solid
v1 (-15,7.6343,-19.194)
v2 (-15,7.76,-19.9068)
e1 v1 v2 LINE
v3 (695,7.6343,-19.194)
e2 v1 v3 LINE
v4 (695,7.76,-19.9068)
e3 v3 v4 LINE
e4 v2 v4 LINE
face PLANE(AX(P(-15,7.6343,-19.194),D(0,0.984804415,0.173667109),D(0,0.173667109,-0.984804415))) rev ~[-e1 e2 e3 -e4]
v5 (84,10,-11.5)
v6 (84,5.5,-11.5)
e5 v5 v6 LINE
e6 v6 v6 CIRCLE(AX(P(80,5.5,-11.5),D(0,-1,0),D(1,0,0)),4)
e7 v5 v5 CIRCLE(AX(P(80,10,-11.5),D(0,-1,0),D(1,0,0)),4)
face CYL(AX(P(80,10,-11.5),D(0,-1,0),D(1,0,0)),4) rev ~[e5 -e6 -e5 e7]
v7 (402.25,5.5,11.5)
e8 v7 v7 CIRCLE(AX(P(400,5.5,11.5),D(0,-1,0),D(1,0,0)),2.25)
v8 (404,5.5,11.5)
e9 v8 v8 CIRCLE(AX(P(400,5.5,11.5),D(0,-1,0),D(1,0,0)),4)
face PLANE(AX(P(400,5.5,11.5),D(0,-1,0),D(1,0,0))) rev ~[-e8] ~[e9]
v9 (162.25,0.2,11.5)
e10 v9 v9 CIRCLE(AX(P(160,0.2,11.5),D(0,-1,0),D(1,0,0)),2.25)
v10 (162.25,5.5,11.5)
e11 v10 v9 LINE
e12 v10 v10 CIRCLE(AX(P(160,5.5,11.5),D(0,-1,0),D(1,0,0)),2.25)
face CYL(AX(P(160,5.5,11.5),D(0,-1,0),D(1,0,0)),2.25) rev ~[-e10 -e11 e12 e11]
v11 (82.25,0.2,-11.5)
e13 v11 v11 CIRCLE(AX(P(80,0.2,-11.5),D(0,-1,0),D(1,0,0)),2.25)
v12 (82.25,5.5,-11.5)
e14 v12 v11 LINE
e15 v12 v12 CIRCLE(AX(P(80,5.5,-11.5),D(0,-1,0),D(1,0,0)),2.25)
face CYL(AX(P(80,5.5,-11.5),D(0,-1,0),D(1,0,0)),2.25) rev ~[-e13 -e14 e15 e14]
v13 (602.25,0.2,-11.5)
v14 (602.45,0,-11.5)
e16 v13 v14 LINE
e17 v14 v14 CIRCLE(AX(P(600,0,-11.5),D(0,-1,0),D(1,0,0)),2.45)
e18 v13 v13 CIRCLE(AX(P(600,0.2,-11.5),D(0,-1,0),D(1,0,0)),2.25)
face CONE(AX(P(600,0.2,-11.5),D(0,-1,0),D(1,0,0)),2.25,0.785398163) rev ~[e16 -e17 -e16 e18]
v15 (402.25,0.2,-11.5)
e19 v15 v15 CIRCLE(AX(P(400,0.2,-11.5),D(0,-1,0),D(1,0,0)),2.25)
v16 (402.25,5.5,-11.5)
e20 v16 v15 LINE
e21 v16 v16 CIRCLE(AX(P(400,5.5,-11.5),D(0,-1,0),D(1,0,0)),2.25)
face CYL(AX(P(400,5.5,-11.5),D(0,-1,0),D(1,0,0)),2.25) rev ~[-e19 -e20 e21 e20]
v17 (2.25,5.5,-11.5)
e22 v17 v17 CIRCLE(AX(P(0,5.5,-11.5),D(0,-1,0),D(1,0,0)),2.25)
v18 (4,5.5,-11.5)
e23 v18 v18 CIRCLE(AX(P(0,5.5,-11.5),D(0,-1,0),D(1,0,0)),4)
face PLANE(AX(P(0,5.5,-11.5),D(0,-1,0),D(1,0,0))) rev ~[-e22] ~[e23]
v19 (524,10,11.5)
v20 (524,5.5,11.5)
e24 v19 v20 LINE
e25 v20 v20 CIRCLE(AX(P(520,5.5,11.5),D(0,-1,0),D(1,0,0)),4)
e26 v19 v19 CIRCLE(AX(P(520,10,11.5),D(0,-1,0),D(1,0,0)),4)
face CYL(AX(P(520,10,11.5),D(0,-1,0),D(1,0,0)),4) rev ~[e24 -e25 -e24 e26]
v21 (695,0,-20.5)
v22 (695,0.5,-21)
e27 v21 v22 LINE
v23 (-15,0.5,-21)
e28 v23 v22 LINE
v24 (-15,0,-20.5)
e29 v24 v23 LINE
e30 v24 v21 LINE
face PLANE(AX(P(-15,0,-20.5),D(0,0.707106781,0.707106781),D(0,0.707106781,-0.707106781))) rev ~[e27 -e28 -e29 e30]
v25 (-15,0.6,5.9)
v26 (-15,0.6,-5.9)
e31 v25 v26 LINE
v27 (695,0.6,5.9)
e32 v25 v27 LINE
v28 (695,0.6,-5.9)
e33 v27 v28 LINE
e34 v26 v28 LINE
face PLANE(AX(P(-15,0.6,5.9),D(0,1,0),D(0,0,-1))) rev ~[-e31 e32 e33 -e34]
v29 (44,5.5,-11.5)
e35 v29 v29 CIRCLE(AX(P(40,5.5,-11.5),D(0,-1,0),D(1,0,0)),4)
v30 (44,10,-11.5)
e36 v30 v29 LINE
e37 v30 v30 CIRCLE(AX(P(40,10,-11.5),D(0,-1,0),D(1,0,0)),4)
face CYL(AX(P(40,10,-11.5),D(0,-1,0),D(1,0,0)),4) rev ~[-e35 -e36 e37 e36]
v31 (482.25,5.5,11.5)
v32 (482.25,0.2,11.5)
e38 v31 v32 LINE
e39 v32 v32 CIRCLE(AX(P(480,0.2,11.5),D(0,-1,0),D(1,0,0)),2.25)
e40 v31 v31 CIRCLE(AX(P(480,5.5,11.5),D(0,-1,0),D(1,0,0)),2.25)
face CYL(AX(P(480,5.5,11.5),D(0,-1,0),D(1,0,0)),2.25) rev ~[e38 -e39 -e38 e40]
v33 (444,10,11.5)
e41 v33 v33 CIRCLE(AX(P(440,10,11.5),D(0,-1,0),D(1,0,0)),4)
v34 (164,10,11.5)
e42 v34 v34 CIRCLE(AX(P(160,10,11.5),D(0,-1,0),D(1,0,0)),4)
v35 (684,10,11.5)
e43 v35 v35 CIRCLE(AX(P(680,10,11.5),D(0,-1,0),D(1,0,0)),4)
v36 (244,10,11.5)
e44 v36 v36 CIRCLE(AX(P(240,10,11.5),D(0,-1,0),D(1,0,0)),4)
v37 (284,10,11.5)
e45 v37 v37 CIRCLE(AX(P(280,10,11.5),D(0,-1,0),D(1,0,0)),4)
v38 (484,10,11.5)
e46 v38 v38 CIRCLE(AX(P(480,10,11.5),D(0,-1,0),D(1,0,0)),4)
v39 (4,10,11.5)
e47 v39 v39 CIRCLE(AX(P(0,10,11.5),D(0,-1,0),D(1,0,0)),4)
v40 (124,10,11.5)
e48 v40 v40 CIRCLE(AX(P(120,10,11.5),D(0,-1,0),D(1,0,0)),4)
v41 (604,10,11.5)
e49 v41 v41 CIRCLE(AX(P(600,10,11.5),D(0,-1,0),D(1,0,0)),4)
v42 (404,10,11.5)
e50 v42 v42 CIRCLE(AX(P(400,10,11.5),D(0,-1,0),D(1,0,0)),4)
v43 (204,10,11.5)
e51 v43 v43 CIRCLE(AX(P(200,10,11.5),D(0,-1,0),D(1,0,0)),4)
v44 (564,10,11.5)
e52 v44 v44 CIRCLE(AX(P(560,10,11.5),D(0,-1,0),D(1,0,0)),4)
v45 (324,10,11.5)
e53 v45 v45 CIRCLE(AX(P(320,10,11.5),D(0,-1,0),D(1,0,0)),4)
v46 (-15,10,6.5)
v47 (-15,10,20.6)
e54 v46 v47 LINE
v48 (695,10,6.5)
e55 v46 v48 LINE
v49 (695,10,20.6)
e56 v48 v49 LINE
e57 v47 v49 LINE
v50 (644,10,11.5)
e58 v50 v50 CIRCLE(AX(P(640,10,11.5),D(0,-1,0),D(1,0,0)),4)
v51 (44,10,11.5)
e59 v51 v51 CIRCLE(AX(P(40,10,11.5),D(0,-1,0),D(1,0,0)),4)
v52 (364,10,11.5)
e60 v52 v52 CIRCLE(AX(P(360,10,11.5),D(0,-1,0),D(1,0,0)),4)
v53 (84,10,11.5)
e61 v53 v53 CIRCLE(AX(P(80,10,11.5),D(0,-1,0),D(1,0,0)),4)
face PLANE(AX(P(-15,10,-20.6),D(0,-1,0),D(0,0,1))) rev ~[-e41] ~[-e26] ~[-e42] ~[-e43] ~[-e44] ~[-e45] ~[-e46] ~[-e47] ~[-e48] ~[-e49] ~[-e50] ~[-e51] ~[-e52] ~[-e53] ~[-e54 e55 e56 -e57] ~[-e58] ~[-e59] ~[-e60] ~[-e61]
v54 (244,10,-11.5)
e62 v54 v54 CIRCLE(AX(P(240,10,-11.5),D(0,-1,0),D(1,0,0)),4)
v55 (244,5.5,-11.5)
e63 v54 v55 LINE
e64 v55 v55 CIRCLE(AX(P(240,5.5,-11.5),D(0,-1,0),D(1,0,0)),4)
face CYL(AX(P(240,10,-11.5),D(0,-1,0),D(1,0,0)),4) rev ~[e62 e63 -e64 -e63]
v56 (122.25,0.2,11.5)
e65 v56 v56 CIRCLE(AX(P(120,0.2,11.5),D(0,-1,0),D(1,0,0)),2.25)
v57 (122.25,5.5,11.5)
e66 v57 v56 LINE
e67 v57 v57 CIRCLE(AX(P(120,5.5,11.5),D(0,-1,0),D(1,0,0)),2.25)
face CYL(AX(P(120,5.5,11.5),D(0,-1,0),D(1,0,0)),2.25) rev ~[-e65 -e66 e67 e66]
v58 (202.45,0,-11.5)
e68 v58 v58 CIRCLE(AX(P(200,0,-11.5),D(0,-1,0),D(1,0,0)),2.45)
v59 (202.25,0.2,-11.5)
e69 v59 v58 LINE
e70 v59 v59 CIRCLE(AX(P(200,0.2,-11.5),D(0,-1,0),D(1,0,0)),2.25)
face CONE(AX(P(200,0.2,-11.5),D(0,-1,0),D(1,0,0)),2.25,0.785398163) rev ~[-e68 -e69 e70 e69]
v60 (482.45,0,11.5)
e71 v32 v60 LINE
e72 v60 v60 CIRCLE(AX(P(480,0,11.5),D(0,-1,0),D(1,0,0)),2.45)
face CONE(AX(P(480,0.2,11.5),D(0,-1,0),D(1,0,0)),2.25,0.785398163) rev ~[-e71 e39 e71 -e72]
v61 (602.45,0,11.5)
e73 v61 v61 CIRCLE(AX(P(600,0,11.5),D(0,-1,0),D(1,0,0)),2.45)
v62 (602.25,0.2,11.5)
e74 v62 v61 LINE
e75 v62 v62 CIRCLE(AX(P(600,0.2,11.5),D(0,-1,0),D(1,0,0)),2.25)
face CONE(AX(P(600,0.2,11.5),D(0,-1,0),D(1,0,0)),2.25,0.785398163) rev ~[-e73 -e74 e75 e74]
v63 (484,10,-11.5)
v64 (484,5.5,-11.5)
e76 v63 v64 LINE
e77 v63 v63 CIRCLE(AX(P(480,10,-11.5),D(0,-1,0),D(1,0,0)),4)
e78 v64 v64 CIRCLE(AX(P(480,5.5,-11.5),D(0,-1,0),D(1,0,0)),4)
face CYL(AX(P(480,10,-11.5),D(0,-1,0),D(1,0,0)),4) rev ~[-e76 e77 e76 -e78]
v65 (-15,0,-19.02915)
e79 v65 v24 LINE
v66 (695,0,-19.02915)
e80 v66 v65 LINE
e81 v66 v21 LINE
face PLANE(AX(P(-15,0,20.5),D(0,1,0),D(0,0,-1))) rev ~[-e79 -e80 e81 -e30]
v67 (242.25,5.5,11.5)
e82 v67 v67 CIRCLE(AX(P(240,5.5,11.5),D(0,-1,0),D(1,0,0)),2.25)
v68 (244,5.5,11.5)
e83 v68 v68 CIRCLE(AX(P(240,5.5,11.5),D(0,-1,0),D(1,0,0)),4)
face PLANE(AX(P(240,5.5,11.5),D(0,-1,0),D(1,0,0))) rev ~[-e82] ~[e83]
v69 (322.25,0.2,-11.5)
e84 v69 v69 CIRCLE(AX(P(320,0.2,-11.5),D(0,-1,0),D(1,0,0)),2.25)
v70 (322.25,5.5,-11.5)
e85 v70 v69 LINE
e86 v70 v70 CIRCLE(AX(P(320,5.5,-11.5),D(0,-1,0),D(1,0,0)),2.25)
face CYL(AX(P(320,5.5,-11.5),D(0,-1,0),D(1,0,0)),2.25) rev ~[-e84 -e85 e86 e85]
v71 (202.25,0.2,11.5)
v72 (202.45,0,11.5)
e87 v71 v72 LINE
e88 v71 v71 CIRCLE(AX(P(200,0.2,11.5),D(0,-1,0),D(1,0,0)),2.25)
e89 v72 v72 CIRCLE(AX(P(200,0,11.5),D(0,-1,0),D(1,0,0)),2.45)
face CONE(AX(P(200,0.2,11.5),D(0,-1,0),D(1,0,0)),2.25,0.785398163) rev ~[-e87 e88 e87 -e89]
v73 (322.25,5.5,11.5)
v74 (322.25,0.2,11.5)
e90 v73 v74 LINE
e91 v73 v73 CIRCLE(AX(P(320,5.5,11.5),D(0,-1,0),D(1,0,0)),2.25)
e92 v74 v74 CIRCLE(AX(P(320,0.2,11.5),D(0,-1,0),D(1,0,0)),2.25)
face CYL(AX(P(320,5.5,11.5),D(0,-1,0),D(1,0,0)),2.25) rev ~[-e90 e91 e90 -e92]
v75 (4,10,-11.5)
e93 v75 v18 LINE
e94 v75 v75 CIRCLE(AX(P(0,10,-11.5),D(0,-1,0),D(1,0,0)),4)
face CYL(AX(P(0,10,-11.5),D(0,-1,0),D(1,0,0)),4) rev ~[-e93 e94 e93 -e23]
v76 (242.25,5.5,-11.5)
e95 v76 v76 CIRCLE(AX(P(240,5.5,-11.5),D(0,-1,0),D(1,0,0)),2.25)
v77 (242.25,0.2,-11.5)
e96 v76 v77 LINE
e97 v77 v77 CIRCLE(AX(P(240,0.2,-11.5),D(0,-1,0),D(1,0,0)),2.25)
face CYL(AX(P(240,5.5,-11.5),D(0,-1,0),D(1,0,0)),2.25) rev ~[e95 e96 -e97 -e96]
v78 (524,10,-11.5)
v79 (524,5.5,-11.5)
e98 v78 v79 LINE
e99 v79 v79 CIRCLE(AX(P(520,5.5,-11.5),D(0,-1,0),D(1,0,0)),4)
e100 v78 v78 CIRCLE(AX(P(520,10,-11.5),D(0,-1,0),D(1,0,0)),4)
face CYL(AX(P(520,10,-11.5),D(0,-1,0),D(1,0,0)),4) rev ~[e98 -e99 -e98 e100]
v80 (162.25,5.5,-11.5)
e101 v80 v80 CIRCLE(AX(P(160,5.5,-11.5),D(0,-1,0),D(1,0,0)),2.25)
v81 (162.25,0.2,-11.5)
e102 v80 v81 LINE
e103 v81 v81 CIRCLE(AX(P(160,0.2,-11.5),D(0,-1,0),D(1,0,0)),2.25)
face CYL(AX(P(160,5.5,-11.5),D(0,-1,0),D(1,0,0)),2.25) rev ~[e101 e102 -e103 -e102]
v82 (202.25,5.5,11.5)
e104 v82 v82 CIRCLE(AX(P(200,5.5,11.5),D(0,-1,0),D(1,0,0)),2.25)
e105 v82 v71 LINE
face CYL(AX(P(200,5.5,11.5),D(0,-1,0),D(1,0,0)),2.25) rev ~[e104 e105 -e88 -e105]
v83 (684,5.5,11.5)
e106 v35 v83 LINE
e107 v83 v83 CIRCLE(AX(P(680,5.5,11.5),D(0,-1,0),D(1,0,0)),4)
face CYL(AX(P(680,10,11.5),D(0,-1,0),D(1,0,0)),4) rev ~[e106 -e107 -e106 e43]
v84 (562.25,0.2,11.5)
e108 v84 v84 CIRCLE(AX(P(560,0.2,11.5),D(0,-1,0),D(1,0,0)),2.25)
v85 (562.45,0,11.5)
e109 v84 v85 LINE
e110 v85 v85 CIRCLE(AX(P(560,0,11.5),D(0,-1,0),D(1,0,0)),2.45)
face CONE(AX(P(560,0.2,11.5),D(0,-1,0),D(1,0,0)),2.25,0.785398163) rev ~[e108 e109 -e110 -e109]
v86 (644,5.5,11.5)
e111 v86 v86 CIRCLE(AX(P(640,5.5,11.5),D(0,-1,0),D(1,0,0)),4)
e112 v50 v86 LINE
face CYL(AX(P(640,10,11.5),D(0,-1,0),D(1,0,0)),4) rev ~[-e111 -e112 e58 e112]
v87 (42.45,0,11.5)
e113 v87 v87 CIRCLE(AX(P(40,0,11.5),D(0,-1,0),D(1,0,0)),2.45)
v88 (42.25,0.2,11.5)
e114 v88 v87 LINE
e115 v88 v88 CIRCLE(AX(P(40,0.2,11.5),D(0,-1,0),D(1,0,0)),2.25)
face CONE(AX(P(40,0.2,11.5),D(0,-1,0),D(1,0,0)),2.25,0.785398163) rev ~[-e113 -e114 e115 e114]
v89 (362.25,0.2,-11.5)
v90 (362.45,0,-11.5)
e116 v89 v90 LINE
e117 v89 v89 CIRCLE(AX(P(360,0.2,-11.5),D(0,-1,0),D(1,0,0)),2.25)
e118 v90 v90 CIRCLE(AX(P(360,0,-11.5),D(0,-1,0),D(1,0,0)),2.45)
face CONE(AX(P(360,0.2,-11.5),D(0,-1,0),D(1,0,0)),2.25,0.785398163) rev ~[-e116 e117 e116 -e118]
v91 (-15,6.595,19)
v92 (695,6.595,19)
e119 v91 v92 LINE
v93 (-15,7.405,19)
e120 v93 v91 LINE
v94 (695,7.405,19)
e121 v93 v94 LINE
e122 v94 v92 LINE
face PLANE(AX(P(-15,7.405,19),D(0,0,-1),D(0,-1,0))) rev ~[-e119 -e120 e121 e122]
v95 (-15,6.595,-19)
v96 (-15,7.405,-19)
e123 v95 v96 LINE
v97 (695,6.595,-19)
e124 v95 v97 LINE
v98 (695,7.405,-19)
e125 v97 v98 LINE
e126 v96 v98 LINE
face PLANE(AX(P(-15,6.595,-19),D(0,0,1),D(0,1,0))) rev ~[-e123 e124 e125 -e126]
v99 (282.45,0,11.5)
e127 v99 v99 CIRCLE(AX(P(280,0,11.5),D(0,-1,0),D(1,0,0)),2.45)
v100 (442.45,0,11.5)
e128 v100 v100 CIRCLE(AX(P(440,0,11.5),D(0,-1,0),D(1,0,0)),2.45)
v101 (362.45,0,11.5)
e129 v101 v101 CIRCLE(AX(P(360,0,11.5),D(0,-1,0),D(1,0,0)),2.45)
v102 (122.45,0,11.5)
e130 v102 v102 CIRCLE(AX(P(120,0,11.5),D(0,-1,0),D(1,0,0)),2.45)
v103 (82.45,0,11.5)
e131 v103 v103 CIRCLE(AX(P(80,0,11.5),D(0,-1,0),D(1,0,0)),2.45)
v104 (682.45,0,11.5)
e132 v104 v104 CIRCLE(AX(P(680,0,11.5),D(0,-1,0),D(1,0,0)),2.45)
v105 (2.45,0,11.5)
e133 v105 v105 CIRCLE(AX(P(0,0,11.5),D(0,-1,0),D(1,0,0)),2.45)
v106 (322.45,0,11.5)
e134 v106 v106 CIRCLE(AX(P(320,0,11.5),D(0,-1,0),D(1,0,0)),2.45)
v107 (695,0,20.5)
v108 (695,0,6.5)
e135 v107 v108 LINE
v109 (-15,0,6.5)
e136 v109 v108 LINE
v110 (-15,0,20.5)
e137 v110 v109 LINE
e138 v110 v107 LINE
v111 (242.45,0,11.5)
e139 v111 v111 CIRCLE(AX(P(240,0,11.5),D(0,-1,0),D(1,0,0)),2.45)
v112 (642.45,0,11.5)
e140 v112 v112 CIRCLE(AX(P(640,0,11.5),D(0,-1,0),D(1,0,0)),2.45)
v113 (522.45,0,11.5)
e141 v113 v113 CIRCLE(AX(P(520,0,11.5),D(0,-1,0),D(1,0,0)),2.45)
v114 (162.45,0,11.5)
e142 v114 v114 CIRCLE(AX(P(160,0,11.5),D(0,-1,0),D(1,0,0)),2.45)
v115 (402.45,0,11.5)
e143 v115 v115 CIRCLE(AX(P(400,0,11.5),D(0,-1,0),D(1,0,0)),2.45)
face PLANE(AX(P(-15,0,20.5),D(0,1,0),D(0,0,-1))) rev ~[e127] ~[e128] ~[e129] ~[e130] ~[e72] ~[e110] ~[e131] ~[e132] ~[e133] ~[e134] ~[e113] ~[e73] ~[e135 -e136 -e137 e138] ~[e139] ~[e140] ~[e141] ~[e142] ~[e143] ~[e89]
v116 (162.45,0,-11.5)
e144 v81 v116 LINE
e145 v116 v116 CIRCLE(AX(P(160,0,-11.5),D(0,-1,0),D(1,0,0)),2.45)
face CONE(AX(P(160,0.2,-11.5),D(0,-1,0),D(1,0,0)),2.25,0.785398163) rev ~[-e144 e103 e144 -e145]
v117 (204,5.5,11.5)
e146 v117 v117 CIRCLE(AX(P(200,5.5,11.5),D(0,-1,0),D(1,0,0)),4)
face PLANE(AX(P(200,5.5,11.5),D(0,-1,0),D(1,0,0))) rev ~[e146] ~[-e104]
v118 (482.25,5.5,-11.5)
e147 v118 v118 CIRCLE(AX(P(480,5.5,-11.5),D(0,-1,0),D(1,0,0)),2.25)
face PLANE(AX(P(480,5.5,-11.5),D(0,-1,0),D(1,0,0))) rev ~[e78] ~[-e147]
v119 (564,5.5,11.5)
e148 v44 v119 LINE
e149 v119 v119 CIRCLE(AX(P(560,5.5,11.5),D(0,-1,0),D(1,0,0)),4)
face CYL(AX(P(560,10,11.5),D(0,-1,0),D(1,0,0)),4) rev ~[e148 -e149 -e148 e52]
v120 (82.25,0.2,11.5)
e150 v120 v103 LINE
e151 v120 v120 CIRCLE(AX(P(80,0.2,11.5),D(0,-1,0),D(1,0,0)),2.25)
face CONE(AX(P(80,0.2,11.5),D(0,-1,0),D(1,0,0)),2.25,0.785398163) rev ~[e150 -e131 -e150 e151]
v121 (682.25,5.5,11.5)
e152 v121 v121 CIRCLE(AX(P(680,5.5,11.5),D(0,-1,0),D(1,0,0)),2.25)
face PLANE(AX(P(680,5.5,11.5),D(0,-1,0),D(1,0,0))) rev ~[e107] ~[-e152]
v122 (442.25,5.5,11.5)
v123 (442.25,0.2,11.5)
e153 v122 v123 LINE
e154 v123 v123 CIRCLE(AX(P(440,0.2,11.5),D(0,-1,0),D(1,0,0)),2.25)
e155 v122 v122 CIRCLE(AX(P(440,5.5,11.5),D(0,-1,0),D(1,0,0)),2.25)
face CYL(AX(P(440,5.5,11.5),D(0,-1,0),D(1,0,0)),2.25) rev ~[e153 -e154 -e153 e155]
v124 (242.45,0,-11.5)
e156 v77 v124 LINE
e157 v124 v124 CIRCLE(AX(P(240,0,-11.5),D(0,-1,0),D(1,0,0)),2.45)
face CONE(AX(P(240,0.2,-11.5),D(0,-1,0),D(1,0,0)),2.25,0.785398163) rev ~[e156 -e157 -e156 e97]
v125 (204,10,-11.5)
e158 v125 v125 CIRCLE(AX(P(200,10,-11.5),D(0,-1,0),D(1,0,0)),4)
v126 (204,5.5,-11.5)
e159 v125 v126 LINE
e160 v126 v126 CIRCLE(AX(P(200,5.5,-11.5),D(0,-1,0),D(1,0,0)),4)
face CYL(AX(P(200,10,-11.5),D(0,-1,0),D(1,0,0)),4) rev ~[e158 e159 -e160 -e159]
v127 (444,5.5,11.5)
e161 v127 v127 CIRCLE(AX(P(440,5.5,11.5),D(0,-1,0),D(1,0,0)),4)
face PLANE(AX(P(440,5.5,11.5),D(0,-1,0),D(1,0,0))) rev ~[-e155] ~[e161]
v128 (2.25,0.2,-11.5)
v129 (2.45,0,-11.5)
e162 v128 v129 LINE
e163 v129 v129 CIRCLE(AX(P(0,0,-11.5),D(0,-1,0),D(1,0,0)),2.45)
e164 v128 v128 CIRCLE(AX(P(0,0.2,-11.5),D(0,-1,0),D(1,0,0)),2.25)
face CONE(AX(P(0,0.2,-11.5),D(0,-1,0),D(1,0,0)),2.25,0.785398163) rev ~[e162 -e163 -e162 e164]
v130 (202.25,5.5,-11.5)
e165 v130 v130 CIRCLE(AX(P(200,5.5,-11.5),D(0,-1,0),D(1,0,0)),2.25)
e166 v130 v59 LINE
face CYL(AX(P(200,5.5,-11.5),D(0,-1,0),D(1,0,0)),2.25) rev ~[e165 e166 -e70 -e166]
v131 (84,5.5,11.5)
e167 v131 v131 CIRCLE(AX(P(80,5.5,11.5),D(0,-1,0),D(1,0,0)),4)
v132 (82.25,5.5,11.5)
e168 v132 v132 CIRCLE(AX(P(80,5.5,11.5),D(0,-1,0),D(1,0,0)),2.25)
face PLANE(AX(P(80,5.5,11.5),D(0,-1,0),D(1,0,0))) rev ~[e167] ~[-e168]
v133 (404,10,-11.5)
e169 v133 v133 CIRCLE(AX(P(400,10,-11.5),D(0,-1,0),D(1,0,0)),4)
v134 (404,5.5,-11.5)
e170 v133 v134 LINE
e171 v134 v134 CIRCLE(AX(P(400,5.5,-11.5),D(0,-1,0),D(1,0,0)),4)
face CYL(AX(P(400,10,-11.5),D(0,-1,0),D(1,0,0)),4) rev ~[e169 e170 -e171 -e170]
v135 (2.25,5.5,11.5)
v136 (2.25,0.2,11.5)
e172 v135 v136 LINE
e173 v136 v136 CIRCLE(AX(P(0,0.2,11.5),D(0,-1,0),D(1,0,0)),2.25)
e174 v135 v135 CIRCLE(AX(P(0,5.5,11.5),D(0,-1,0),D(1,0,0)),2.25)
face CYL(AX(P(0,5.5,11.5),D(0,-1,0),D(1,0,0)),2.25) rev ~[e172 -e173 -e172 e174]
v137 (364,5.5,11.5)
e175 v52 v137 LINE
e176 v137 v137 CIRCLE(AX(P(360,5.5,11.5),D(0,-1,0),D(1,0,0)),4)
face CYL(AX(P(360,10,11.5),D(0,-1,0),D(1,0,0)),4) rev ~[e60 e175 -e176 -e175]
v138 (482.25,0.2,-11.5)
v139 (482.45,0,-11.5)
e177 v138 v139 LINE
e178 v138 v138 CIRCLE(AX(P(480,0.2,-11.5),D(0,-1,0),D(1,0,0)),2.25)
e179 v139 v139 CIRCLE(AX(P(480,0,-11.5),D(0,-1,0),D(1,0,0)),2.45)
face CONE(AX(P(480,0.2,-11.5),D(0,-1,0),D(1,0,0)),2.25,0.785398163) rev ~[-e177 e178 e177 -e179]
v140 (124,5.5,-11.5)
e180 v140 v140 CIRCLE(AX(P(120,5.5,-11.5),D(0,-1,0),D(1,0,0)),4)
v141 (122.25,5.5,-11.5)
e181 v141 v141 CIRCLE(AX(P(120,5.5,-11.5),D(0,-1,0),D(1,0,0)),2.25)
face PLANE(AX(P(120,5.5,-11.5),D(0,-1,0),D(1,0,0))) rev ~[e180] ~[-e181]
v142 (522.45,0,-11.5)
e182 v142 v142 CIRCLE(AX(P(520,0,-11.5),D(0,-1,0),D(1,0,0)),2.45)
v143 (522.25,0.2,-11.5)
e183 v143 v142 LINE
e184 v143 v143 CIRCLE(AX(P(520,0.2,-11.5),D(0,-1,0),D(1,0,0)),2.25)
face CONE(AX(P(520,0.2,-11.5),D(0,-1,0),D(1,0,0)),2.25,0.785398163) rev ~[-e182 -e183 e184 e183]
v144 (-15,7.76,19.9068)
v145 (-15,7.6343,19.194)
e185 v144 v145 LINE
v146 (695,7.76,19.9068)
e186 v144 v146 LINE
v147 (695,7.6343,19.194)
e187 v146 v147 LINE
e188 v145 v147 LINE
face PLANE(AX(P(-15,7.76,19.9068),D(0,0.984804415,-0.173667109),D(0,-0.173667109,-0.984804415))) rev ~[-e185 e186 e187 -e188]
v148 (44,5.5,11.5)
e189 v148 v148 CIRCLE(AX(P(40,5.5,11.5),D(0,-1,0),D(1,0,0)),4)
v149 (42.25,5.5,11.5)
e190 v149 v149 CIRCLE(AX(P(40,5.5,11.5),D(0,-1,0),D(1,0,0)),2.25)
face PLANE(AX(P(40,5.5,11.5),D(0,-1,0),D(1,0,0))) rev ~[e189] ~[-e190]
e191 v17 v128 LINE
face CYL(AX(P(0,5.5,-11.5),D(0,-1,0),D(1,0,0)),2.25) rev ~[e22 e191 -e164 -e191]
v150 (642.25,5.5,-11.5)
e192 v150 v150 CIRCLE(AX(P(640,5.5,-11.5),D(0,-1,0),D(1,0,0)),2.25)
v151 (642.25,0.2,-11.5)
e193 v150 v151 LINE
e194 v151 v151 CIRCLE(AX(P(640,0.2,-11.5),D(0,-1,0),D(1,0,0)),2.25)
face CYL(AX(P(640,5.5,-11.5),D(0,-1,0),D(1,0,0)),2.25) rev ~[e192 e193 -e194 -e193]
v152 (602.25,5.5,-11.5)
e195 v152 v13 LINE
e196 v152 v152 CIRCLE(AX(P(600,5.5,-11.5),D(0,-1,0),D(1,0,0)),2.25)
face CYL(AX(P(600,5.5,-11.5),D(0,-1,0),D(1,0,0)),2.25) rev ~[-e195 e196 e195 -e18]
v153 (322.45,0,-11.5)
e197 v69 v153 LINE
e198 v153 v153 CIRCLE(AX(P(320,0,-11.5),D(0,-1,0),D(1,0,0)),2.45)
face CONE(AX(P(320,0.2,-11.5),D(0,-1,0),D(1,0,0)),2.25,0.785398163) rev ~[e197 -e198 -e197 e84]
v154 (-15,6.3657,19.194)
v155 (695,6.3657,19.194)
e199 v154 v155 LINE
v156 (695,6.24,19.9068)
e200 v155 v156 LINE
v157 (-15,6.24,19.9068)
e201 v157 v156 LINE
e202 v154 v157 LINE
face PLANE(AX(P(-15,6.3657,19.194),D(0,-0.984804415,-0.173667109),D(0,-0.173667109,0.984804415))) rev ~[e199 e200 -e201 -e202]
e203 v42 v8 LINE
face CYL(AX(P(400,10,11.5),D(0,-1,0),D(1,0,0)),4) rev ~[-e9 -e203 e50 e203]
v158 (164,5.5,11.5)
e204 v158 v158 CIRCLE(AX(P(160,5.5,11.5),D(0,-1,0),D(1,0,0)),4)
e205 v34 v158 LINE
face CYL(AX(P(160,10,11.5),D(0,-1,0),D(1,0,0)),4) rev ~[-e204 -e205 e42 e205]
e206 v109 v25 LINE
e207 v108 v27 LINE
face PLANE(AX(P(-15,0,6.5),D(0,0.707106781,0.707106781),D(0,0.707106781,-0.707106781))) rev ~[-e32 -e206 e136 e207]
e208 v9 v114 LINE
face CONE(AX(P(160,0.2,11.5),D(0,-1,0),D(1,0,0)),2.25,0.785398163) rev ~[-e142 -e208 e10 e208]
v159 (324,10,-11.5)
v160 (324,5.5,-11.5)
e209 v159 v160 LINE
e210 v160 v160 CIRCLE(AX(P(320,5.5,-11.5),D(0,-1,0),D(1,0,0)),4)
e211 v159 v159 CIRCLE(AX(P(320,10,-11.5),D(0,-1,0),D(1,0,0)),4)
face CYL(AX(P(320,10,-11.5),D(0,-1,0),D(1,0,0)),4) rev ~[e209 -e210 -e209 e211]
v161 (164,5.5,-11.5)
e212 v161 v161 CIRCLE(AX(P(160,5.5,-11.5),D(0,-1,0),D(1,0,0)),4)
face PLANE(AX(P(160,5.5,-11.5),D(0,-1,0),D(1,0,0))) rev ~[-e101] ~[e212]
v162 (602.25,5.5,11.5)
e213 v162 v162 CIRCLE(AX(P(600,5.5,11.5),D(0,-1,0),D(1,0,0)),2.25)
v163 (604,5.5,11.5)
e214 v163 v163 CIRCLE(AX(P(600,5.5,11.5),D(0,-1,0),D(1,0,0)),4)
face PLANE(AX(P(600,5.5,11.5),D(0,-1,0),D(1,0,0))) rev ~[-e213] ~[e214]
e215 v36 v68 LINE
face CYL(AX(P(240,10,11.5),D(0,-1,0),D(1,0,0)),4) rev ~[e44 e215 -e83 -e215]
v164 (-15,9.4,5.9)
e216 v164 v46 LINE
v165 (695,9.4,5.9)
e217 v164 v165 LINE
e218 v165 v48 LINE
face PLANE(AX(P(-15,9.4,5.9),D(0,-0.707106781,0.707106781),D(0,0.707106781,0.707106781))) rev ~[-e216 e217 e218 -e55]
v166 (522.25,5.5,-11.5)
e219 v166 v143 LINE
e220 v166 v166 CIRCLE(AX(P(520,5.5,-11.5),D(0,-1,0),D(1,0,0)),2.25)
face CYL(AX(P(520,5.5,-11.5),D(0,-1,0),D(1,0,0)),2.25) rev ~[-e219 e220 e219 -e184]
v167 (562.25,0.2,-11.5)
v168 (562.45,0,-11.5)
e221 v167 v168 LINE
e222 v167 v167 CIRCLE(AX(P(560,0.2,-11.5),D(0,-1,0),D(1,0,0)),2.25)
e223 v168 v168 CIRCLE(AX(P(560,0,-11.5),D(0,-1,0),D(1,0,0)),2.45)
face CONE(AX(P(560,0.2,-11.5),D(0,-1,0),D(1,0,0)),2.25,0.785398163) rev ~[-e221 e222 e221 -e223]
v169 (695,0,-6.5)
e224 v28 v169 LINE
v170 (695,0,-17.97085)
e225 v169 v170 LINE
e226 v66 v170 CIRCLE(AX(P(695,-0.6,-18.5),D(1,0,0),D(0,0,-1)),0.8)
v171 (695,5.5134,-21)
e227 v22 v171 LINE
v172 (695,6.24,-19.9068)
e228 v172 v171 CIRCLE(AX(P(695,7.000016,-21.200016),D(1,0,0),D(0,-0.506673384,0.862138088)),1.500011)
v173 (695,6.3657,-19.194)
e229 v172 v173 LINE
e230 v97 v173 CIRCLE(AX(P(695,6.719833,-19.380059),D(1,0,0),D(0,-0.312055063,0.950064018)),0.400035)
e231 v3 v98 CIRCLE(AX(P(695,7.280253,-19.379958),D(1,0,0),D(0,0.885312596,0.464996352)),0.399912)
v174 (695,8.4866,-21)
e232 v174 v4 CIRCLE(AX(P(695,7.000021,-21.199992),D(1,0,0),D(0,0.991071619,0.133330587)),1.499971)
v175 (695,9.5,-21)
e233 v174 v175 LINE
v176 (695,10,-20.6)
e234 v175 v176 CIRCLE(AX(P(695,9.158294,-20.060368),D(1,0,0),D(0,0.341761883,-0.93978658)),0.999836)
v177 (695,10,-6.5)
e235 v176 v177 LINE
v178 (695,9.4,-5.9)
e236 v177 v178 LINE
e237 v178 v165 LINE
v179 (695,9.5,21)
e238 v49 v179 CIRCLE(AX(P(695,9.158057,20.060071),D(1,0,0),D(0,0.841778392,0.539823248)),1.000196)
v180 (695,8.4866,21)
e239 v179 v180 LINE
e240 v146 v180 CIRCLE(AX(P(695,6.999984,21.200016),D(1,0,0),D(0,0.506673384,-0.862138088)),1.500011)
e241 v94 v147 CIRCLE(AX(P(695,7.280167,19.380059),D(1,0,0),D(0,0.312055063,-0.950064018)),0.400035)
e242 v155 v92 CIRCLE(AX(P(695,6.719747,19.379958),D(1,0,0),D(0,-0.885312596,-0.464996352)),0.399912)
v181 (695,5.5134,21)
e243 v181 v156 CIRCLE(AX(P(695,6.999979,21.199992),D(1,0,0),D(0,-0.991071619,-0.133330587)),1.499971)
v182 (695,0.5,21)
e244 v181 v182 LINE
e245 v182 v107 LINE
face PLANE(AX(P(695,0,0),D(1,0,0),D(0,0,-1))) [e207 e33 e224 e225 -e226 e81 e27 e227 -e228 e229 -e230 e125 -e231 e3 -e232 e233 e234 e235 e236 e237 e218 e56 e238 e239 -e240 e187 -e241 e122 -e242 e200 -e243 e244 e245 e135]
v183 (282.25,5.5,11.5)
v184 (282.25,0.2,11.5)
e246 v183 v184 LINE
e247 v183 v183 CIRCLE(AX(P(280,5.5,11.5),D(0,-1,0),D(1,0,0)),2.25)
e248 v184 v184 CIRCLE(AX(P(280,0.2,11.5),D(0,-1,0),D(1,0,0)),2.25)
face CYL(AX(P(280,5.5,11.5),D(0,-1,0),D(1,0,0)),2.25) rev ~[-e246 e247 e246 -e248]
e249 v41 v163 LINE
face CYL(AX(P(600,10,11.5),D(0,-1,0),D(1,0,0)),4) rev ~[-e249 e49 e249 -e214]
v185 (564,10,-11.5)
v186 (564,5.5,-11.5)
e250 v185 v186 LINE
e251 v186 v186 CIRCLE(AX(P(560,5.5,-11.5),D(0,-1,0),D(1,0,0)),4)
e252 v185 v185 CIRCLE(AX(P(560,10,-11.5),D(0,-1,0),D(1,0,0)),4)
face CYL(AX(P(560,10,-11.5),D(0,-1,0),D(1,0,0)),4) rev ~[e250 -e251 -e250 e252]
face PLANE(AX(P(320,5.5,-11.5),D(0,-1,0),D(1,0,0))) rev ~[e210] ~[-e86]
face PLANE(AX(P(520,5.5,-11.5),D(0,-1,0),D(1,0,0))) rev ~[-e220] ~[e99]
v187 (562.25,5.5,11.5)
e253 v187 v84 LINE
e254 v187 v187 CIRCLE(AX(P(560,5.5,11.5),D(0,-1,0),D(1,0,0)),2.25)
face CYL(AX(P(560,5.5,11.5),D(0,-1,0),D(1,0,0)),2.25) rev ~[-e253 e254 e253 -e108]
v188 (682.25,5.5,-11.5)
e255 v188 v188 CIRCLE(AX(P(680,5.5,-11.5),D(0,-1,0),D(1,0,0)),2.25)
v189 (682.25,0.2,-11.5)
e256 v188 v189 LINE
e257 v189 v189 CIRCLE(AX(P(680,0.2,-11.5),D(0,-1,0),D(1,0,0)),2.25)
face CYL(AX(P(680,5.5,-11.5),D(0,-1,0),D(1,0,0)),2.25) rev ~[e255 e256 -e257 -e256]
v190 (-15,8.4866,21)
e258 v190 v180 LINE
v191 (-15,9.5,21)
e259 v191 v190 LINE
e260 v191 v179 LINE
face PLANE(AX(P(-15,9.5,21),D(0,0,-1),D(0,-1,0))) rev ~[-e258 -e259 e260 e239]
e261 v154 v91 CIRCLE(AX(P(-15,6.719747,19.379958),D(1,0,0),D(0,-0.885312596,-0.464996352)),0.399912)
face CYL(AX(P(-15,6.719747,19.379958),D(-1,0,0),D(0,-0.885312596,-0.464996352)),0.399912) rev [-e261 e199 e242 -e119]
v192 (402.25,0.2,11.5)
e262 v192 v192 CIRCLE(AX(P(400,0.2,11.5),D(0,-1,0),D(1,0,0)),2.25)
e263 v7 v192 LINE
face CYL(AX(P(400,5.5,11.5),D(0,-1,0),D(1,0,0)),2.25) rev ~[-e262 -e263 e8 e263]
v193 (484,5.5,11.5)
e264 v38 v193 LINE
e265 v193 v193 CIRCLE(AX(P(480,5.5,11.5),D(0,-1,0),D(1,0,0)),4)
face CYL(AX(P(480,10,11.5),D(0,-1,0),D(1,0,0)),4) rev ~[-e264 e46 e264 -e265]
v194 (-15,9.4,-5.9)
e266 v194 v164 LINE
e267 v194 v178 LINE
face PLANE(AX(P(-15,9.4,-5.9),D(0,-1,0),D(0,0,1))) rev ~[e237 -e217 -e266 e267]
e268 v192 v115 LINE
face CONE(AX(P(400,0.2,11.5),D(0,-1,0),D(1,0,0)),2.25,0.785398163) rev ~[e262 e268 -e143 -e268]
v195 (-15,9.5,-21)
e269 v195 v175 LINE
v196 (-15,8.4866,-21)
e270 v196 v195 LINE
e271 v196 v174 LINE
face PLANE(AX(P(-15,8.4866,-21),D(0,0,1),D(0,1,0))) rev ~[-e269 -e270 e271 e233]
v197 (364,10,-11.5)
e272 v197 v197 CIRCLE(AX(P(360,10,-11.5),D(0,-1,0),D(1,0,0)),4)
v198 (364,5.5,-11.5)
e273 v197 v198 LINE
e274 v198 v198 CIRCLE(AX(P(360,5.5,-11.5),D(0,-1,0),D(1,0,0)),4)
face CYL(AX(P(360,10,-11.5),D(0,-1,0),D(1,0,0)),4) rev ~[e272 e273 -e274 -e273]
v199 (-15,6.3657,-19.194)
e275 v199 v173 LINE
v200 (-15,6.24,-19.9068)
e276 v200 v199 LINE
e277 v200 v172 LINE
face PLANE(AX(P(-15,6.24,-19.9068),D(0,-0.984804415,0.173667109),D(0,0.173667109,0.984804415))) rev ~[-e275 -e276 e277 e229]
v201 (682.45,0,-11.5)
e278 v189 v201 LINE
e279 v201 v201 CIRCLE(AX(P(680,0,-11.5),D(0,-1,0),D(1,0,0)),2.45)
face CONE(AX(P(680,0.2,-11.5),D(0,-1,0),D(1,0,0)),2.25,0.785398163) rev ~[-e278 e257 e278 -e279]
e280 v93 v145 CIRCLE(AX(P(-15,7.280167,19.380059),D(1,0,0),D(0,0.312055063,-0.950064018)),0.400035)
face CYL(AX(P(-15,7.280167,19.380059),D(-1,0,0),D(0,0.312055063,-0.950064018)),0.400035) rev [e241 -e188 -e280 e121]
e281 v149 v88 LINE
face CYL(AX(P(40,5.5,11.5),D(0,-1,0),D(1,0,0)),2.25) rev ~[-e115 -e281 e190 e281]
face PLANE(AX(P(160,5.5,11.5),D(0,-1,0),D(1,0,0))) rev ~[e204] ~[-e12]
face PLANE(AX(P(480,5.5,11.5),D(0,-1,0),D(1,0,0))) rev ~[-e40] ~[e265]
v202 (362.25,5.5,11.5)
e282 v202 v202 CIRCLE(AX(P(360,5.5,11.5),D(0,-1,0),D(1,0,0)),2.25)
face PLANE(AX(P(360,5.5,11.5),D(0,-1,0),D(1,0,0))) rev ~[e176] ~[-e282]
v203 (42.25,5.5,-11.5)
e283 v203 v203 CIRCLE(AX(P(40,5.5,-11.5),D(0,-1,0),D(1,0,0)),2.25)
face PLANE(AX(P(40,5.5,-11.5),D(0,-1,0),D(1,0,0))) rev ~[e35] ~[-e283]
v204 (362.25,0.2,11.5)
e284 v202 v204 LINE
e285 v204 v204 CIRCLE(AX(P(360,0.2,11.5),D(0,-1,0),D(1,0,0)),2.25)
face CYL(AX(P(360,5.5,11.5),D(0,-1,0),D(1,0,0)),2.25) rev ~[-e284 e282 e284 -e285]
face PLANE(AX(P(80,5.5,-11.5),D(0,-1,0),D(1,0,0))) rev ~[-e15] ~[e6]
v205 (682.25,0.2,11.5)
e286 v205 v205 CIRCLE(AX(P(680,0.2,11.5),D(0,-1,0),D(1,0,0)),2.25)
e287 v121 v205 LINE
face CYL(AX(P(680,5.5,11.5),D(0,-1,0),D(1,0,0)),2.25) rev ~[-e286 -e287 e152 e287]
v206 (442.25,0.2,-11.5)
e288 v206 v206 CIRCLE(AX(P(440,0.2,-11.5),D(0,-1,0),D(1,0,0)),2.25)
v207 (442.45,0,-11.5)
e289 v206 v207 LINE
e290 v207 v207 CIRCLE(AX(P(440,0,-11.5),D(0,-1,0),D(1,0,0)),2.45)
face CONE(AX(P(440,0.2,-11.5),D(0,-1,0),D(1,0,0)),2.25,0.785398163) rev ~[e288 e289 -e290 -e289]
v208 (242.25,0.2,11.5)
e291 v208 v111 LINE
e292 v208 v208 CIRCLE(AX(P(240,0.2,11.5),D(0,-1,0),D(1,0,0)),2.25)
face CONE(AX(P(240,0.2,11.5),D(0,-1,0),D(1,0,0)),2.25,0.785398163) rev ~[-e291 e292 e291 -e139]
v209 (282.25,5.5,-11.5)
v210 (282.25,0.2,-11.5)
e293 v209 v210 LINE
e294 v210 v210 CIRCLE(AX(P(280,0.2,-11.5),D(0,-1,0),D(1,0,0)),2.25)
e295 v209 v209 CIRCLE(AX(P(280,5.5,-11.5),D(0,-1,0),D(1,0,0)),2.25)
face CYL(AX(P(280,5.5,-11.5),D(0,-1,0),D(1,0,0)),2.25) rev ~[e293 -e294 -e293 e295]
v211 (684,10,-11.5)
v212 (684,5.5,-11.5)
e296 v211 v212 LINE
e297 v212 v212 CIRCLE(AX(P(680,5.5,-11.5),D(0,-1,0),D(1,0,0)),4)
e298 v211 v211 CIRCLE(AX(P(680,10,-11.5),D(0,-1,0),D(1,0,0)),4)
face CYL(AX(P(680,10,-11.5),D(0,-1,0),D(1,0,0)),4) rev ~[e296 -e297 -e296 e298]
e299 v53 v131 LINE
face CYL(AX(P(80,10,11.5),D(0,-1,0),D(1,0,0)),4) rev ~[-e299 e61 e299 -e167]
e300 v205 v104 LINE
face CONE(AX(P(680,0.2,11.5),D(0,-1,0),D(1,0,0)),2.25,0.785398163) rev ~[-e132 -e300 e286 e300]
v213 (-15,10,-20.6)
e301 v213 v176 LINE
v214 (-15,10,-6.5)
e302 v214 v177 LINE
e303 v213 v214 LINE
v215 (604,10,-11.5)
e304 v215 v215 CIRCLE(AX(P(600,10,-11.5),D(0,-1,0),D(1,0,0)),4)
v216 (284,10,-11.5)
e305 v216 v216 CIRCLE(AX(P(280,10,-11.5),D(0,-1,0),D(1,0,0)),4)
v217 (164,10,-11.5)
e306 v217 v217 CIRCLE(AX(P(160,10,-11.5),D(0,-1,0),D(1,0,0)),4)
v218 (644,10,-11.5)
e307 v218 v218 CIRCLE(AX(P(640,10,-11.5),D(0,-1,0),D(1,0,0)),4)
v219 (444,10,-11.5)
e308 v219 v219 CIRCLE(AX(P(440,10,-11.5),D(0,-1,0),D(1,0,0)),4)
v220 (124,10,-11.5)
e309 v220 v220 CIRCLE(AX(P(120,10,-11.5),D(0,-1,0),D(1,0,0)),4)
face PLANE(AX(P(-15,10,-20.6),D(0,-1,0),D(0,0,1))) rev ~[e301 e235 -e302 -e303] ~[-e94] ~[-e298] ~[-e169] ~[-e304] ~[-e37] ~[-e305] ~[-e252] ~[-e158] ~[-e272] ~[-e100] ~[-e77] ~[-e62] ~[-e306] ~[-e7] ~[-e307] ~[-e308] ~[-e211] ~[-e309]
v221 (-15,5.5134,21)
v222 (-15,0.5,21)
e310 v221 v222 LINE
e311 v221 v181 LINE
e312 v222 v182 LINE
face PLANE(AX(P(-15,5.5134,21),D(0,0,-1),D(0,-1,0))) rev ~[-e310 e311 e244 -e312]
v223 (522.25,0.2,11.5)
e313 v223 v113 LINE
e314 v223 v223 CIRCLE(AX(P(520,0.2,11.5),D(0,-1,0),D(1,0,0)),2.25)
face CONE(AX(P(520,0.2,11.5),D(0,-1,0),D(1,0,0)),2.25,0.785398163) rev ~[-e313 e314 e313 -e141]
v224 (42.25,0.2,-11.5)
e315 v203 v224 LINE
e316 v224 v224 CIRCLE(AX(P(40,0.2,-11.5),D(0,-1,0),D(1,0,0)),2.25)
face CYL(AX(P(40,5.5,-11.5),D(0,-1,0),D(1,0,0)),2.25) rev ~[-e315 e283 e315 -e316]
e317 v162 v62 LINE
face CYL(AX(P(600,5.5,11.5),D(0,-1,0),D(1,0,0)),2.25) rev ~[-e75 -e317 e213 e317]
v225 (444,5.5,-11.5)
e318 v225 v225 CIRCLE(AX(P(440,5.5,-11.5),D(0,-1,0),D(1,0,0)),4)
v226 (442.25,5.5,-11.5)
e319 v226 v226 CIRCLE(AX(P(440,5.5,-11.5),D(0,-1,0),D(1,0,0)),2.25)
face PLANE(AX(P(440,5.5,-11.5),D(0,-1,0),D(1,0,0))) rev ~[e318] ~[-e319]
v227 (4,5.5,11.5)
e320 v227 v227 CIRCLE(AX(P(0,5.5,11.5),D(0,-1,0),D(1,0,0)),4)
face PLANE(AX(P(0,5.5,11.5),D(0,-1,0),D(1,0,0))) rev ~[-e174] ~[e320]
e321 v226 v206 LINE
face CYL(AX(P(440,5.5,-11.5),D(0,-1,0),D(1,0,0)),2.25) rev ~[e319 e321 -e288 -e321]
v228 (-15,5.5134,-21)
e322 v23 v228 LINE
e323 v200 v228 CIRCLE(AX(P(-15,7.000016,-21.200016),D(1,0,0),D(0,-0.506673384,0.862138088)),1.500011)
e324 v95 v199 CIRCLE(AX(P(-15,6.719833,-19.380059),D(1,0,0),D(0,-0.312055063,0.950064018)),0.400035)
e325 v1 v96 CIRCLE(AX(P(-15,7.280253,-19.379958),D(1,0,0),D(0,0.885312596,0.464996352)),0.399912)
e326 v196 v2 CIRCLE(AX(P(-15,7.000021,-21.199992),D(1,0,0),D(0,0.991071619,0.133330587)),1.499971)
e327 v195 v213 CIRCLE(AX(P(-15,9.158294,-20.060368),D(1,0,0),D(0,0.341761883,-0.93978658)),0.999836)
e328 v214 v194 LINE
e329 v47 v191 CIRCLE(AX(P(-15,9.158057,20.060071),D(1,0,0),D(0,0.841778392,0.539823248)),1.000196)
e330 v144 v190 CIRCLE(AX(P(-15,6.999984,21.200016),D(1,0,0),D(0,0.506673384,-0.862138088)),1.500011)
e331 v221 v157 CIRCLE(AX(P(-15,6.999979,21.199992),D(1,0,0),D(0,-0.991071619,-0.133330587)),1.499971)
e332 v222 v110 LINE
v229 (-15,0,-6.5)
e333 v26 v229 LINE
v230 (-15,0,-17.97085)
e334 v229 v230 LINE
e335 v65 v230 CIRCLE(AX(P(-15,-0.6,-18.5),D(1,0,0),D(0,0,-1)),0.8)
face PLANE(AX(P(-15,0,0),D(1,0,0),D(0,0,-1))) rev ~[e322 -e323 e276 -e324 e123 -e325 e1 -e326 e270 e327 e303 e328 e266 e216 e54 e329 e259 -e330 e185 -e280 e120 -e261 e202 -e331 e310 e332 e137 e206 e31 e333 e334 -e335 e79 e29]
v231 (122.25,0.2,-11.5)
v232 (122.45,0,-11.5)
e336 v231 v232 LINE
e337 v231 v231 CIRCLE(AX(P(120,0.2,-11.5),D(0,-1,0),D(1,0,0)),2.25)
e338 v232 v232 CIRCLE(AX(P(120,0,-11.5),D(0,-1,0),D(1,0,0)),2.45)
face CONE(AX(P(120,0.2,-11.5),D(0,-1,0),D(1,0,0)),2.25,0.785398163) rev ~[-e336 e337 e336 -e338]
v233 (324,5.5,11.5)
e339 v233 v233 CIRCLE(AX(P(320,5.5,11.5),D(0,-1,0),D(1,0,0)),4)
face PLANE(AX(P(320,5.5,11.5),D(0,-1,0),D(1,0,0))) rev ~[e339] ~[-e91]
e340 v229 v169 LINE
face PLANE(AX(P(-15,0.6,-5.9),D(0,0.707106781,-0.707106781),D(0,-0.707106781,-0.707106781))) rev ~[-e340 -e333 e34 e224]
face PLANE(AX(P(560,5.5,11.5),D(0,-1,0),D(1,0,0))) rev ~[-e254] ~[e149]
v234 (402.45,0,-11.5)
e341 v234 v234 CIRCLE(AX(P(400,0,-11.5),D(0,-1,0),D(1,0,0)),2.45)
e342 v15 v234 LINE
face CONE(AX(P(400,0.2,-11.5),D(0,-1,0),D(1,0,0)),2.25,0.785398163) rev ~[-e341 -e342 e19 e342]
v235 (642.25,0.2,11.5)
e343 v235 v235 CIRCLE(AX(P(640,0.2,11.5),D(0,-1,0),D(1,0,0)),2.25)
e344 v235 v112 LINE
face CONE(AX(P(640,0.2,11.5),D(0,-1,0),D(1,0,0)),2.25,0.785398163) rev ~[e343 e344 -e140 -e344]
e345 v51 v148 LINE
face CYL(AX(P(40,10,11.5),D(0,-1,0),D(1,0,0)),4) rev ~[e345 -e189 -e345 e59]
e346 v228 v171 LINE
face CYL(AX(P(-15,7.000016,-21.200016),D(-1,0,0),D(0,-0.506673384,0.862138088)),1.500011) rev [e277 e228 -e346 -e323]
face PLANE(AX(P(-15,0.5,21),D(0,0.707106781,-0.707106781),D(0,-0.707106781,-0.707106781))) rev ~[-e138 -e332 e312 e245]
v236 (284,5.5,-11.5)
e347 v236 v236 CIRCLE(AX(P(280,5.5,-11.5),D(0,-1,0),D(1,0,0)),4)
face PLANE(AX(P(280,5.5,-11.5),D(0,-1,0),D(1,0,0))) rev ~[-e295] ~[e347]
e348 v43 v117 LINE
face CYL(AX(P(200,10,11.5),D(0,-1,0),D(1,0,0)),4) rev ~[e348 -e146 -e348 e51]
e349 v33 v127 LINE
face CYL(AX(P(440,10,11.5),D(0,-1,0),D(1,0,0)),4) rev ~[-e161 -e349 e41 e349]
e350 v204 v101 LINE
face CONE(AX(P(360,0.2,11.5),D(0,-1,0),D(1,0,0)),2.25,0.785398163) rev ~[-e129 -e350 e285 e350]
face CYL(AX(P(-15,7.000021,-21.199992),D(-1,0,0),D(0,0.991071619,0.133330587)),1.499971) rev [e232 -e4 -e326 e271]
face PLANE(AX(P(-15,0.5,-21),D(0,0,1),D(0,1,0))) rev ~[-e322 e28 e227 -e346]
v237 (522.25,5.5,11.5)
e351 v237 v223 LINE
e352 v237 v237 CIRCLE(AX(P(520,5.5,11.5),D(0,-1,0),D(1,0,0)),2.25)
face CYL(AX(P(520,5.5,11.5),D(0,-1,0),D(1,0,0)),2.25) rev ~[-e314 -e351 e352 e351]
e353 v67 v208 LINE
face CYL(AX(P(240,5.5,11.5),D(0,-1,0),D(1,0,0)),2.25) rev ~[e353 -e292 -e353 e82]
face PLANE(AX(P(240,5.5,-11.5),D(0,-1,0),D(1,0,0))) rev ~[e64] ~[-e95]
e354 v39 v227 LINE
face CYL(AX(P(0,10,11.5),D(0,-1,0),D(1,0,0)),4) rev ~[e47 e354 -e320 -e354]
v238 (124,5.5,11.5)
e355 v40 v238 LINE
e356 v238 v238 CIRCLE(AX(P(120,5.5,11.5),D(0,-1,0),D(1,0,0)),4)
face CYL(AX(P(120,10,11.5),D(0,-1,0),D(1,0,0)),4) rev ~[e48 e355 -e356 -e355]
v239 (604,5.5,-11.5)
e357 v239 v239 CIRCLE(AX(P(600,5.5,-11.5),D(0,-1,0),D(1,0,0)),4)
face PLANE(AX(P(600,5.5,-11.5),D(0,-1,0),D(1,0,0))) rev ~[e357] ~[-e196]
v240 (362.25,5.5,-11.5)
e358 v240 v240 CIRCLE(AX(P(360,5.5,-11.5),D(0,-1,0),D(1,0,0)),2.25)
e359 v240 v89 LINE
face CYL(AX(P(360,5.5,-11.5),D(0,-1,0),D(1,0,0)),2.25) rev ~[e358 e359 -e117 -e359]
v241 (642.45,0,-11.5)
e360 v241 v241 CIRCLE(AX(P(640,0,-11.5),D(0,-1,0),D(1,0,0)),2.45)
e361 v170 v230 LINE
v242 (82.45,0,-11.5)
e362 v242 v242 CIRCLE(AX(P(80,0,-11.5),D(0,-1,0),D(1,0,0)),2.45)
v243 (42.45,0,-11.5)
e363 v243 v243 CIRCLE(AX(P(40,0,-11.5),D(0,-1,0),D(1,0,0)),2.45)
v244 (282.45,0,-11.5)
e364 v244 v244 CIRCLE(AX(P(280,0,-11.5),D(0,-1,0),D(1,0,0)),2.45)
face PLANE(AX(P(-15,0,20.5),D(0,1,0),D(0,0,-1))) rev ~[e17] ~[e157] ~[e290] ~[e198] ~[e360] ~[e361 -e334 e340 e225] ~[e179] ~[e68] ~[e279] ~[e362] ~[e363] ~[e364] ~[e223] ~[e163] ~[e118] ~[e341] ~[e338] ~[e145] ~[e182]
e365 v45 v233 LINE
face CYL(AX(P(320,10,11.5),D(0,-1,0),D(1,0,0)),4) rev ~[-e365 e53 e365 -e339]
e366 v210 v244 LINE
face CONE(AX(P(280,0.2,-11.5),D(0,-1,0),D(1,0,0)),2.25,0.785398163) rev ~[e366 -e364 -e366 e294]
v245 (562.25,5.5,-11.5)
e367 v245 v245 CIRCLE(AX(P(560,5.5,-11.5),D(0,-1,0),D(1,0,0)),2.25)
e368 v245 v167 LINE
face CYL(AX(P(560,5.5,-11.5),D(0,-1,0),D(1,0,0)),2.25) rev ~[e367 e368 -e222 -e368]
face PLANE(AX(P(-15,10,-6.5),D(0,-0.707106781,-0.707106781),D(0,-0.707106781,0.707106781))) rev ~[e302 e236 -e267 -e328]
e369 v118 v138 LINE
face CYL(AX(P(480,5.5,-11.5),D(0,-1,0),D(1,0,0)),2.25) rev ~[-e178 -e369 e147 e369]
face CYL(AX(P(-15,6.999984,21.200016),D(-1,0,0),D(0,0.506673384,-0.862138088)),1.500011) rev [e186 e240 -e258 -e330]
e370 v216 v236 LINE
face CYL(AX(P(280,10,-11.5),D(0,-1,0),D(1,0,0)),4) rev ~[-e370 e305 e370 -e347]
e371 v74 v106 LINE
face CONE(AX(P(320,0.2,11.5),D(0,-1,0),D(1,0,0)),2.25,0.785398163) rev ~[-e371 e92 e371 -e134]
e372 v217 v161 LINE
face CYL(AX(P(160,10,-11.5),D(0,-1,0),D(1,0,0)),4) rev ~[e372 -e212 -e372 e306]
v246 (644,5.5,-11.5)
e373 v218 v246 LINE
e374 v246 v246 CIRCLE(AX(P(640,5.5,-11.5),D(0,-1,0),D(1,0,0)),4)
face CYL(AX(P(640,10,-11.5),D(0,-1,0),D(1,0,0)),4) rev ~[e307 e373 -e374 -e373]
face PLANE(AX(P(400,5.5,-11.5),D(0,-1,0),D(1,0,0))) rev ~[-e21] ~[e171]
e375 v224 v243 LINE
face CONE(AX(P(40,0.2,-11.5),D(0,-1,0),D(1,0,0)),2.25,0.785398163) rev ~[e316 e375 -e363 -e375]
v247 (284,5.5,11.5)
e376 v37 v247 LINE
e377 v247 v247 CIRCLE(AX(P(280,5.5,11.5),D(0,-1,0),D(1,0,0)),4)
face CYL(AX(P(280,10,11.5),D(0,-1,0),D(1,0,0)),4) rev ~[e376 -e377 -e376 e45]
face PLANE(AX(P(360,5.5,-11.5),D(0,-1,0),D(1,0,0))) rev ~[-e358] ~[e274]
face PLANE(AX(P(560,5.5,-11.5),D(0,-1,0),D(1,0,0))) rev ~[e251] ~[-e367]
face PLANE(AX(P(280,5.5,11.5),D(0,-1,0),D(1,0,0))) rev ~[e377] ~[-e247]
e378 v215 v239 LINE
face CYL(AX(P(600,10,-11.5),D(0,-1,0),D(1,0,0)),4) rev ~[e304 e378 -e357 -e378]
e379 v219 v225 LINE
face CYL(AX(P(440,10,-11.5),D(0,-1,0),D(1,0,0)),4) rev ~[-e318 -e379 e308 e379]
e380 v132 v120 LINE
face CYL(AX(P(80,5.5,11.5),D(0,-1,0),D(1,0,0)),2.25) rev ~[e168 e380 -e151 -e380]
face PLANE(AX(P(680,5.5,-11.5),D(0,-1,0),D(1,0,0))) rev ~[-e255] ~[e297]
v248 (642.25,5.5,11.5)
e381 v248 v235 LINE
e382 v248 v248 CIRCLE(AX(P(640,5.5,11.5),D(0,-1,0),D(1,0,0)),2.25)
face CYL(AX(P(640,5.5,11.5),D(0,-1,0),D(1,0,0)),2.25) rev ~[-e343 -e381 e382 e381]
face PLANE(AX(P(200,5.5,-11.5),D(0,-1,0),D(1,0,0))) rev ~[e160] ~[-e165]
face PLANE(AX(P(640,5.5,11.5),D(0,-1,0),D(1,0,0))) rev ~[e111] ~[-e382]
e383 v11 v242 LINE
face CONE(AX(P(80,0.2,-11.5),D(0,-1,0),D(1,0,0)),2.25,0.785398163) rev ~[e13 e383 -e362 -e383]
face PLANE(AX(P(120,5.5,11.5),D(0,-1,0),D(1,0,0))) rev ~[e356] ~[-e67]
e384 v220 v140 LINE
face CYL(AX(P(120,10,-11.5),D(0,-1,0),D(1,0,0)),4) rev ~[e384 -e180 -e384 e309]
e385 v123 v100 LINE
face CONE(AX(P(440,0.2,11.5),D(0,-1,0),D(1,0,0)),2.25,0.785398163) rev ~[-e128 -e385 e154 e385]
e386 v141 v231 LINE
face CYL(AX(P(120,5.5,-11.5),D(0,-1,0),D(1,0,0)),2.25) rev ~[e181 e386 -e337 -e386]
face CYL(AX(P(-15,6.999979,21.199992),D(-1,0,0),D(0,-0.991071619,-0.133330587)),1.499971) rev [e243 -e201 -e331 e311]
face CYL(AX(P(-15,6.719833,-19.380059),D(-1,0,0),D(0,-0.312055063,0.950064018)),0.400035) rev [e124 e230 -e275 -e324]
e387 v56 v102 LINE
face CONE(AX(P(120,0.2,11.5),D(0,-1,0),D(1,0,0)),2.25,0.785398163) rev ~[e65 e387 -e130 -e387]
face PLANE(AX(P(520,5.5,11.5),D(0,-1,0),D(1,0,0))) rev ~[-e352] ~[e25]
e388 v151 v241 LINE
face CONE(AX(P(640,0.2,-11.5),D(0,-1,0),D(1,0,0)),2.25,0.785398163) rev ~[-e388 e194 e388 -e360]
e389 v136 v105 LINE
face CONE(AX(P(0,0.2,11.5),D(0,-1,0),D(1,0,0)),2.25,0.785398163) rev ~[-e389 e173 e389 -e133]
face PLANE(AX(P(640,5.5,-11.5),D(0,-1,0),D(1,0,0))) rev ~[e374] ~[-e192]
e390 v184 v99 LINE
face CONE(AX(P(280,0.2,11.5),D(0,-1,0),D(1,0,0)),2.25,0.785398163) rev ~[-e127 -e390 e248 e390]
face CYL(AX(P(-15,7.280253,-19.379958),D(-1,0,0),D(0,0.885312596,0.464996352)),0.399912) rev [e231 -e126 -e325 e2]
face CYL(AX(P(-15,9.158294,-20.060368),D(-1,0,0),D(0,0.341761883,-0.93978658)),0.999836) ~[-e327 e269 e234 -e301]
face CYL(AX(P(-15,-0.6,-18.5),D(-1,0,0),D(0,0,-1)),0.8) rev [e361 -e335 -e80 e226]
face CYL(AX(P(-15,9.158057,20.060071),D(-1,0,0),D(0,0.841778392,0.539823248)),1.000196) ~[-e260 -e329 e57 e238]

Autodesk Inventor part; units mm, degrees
sketch "Sketch_1" plane through (-15, 0, 0) normal (1, 0, 0) x (0, 0, -1)
  line L0 (-21, 0.5) -> (-20.5, 0)
  line L1 (-20.5, 0) -> (20.5, 0)
  line L2 (20.5, 0) -> (21, 0.5)
  line L3 (21, 0.5) -> (21, 5.5134)
  arc A0 (19.9068, 6.24) -> (21, 5.5134) centre (21.2, 7) ccw
  line L4 (19.9068, 6.24) -> (19.194, 6.3657)
  arc A1 (19, 6.595) -> (19.194, 6.3657) centre (19.38, 6.7198) ccw
  line L5 (19, 6.595) -> (19, 7.405)
  arc A2 (19.194, 7.6343) -> (19, 7.405) centre (19.38, 7.2802) ccw
  line L6 (19.194, 7.6343) -> (19.9068, 7.76)
  arc A3 (21, 8.4866) -> (19.9068, 7.76) centre (21.2, 7) ccw
  line L7 (21, 8.4866) -> (21, 9.5)
  arc A4 (21, 9.5) -> (20.6, 10) centre (20.0602, 9.1582) ccw
  line L8 (20.6, 10) -> (-20.6, 10)
  arc A5 (-20.6, 10) -> (-21, 9.5) centre (-20.0602, 9.1582) ccw
  line L9 (-21, 9.5) -> (-21, 8.4866)
  arc A6 (-19.9068, 7.76) -> (-21, 8.4866) centre (-21.2, 7) ccw
  line L10 (-19.9068, 7.76) -> (-19.194, 7.6343)
  arc A7 (-19, 7.405) -> (-19.194, 7.6343) centre (-19.38, 7.2802) ccw
  line L11 (-19, 7.405) -> (-19, 6.595)
  arc A8 (-19.194, 6.3657) -> (-19, 6.595) centre (-19.38, 6.7198) ccw
  line L12 (-19.194, 6.3657) -> (-19.9068, 6.24)
  arc A9 (-21, 5.5134) -> (-19.9068, 6.24) centre (-21.2, 7) ccw
  line L13 (-21, 5.5134) -> (-21, 0.5)
extrude "Extrusion1" add sketch "Sketch_1" along normal blind 710
sketch "Sketch_24" plane through (-15, 0, 0) normal (1, 0, 0) x (0, 0, -1)
  line L0 (-42, -5) -> (42, -5)
  line L1 (42, -5) -> (42, 15)
  line L2 (42, 15) -> (-42, 15)
  line L3 (-42, 15) -> (-42, -5)
  line L4 (-21, 0) -> (-6.5, 0)
  line L5 (-6.5, 0) -> (-5.9, 0.6)
  line L6 (-5.9, 0.6) -> (5.9, 0.6)
  line L7 (5.9, 0.6) -> (6.5, 0)
  line L8 (6.5, 0) -> (21, 0)
  line L9 (21, 0) -> (21, 10)
  line L10 (21, 10) -> (6.5, 10)
  line L11 (6.5, 10) -> (5.9, 9.4)
  line L12 (5.9, 9.4) -> (-5.9, 9.4)
  line L13 (-5.9, 9.4) -> (-6.5, 10)
  line L14 (-6.5, 10) -> (-21, 10)
  line L15 (-21, 10) -> (-21, 0)
extrude "Extrusion2" cut sketch "Sketch_24" along normal blind 710
sketch "Sketch_22" plane through (0, 0, 11.5) normal (0, 0, 1) x (1, 0, 0)
  line L0 (0, 0) -> (0, 10)
  line L1 (0, 10) -> (4, 10)
  line L2 (4, 10) -> (4, 5.5)
  line L3 (4, 5.5) -> (2.25, 5.5)
  line L4 (2.25, 5.5) -> (2.25, 0.2)
  line L5 (2.25, 0.2) -> (2.45, 0)
  line L6 (2.45, 0) -> (0, 0)
  line L7 (0, 0) -> (0, 10)
revolve "Revolution1" cut sketch "Sketch_22" angle 360 about axis through (0, 0, 11.5) along (0, -1, 0)
pattern_linear "Rectangular Pattern1" count 18 spacing 40 along (1, 0, 0) of "Revolution1"
sketch "Sketch_2" plane through (0, 0, -11.5) normal (0, 0, 1) x (1, 0, 0)
  line L0 (0, 0) -> (0, 10)
  line L1 (0, 10) -> (4, 10)
  line L2 (4, 10) -> (4, 5.5)
  line L3 (4, 5.5) -> (2.25, 5.5)
  line L4 (2.25, 5.5) -> (2.25, 0.2)
  line L5 (2.25, 0.2) -> (2.45, 0)
  line L6 (2.45, 0) -> (0, 0)
  line L7 (0, 0) -> (0, 10)
revolve "Revolution2" cut sketch "Sketch_2" angle 360 about axis through (0, 0, -11.5) along (0, -1, 0)
pattern_linear "Rectangular Pattern2" count 18 spacing 40 along (1, 0, 0) of "Revolution2"
sketch "Sketch_11" plane through (-15, 0, 0) normal (1, 0, 0) x (0, 0, -1)
  circle A0 centre (18.5, -0.6) radius 0.8
extrude "Extrusion3" cut sketch "Sketch_11" along normal blind 710
ref_plane "dummy_XY" through (0, 0, 0) normal (1, 0, 0) x (0, 0, -1)
ref_plane "dummy_YZ" through (0, 0, 0) normal (0, 0, -1) x (0, 1, 0)
ref_plane "dummy_ZX" through (0, 0, 0) normal (0, 1, 0) x (1, 0, 0)
ref_plane "pin_2_XY" through (692.5, 10, 0) normal (0, 0, 1) x (1, 0, 0)
ref_plane "pin_2_YZ" through (692.5, 10, 0) normal (1, 0, 0) x (0, 1, 0)
ref_plane "pin_2_ZX" through (692.5, 10, 0) normal (0, 1, 0) x (0, 0, 1)
ref_plane "slider_XY" through (-15, 4, 0) normal (1, 0, 0) x (0, 0, -1)
ref_plane "slider_YZ" through (-15, 4, 0) normal (0, 0, -1) x (0, 1, 0)
ref_plane "slider_ZX" through (-15, 4, 0) normal (0, 1, 0) x (1, 0, 0)
ref_plane "stop_pin_XY" through (-12.5, 10, 0) normal (0, 0, 1) x (1, 0, 0)
ref_plane "stop_pin_YZ" through (-12.5, 10, 0) normal (1, 0, 0) x (0, 1, 0)
ref_plane "stop_pin_ZX" through (-12.5, 10, 0) normal (0, 1, 0) x (0, 0, 1)
properties part number "LWLF42...BCSR710Track Rail" material "Stainless Steel"
